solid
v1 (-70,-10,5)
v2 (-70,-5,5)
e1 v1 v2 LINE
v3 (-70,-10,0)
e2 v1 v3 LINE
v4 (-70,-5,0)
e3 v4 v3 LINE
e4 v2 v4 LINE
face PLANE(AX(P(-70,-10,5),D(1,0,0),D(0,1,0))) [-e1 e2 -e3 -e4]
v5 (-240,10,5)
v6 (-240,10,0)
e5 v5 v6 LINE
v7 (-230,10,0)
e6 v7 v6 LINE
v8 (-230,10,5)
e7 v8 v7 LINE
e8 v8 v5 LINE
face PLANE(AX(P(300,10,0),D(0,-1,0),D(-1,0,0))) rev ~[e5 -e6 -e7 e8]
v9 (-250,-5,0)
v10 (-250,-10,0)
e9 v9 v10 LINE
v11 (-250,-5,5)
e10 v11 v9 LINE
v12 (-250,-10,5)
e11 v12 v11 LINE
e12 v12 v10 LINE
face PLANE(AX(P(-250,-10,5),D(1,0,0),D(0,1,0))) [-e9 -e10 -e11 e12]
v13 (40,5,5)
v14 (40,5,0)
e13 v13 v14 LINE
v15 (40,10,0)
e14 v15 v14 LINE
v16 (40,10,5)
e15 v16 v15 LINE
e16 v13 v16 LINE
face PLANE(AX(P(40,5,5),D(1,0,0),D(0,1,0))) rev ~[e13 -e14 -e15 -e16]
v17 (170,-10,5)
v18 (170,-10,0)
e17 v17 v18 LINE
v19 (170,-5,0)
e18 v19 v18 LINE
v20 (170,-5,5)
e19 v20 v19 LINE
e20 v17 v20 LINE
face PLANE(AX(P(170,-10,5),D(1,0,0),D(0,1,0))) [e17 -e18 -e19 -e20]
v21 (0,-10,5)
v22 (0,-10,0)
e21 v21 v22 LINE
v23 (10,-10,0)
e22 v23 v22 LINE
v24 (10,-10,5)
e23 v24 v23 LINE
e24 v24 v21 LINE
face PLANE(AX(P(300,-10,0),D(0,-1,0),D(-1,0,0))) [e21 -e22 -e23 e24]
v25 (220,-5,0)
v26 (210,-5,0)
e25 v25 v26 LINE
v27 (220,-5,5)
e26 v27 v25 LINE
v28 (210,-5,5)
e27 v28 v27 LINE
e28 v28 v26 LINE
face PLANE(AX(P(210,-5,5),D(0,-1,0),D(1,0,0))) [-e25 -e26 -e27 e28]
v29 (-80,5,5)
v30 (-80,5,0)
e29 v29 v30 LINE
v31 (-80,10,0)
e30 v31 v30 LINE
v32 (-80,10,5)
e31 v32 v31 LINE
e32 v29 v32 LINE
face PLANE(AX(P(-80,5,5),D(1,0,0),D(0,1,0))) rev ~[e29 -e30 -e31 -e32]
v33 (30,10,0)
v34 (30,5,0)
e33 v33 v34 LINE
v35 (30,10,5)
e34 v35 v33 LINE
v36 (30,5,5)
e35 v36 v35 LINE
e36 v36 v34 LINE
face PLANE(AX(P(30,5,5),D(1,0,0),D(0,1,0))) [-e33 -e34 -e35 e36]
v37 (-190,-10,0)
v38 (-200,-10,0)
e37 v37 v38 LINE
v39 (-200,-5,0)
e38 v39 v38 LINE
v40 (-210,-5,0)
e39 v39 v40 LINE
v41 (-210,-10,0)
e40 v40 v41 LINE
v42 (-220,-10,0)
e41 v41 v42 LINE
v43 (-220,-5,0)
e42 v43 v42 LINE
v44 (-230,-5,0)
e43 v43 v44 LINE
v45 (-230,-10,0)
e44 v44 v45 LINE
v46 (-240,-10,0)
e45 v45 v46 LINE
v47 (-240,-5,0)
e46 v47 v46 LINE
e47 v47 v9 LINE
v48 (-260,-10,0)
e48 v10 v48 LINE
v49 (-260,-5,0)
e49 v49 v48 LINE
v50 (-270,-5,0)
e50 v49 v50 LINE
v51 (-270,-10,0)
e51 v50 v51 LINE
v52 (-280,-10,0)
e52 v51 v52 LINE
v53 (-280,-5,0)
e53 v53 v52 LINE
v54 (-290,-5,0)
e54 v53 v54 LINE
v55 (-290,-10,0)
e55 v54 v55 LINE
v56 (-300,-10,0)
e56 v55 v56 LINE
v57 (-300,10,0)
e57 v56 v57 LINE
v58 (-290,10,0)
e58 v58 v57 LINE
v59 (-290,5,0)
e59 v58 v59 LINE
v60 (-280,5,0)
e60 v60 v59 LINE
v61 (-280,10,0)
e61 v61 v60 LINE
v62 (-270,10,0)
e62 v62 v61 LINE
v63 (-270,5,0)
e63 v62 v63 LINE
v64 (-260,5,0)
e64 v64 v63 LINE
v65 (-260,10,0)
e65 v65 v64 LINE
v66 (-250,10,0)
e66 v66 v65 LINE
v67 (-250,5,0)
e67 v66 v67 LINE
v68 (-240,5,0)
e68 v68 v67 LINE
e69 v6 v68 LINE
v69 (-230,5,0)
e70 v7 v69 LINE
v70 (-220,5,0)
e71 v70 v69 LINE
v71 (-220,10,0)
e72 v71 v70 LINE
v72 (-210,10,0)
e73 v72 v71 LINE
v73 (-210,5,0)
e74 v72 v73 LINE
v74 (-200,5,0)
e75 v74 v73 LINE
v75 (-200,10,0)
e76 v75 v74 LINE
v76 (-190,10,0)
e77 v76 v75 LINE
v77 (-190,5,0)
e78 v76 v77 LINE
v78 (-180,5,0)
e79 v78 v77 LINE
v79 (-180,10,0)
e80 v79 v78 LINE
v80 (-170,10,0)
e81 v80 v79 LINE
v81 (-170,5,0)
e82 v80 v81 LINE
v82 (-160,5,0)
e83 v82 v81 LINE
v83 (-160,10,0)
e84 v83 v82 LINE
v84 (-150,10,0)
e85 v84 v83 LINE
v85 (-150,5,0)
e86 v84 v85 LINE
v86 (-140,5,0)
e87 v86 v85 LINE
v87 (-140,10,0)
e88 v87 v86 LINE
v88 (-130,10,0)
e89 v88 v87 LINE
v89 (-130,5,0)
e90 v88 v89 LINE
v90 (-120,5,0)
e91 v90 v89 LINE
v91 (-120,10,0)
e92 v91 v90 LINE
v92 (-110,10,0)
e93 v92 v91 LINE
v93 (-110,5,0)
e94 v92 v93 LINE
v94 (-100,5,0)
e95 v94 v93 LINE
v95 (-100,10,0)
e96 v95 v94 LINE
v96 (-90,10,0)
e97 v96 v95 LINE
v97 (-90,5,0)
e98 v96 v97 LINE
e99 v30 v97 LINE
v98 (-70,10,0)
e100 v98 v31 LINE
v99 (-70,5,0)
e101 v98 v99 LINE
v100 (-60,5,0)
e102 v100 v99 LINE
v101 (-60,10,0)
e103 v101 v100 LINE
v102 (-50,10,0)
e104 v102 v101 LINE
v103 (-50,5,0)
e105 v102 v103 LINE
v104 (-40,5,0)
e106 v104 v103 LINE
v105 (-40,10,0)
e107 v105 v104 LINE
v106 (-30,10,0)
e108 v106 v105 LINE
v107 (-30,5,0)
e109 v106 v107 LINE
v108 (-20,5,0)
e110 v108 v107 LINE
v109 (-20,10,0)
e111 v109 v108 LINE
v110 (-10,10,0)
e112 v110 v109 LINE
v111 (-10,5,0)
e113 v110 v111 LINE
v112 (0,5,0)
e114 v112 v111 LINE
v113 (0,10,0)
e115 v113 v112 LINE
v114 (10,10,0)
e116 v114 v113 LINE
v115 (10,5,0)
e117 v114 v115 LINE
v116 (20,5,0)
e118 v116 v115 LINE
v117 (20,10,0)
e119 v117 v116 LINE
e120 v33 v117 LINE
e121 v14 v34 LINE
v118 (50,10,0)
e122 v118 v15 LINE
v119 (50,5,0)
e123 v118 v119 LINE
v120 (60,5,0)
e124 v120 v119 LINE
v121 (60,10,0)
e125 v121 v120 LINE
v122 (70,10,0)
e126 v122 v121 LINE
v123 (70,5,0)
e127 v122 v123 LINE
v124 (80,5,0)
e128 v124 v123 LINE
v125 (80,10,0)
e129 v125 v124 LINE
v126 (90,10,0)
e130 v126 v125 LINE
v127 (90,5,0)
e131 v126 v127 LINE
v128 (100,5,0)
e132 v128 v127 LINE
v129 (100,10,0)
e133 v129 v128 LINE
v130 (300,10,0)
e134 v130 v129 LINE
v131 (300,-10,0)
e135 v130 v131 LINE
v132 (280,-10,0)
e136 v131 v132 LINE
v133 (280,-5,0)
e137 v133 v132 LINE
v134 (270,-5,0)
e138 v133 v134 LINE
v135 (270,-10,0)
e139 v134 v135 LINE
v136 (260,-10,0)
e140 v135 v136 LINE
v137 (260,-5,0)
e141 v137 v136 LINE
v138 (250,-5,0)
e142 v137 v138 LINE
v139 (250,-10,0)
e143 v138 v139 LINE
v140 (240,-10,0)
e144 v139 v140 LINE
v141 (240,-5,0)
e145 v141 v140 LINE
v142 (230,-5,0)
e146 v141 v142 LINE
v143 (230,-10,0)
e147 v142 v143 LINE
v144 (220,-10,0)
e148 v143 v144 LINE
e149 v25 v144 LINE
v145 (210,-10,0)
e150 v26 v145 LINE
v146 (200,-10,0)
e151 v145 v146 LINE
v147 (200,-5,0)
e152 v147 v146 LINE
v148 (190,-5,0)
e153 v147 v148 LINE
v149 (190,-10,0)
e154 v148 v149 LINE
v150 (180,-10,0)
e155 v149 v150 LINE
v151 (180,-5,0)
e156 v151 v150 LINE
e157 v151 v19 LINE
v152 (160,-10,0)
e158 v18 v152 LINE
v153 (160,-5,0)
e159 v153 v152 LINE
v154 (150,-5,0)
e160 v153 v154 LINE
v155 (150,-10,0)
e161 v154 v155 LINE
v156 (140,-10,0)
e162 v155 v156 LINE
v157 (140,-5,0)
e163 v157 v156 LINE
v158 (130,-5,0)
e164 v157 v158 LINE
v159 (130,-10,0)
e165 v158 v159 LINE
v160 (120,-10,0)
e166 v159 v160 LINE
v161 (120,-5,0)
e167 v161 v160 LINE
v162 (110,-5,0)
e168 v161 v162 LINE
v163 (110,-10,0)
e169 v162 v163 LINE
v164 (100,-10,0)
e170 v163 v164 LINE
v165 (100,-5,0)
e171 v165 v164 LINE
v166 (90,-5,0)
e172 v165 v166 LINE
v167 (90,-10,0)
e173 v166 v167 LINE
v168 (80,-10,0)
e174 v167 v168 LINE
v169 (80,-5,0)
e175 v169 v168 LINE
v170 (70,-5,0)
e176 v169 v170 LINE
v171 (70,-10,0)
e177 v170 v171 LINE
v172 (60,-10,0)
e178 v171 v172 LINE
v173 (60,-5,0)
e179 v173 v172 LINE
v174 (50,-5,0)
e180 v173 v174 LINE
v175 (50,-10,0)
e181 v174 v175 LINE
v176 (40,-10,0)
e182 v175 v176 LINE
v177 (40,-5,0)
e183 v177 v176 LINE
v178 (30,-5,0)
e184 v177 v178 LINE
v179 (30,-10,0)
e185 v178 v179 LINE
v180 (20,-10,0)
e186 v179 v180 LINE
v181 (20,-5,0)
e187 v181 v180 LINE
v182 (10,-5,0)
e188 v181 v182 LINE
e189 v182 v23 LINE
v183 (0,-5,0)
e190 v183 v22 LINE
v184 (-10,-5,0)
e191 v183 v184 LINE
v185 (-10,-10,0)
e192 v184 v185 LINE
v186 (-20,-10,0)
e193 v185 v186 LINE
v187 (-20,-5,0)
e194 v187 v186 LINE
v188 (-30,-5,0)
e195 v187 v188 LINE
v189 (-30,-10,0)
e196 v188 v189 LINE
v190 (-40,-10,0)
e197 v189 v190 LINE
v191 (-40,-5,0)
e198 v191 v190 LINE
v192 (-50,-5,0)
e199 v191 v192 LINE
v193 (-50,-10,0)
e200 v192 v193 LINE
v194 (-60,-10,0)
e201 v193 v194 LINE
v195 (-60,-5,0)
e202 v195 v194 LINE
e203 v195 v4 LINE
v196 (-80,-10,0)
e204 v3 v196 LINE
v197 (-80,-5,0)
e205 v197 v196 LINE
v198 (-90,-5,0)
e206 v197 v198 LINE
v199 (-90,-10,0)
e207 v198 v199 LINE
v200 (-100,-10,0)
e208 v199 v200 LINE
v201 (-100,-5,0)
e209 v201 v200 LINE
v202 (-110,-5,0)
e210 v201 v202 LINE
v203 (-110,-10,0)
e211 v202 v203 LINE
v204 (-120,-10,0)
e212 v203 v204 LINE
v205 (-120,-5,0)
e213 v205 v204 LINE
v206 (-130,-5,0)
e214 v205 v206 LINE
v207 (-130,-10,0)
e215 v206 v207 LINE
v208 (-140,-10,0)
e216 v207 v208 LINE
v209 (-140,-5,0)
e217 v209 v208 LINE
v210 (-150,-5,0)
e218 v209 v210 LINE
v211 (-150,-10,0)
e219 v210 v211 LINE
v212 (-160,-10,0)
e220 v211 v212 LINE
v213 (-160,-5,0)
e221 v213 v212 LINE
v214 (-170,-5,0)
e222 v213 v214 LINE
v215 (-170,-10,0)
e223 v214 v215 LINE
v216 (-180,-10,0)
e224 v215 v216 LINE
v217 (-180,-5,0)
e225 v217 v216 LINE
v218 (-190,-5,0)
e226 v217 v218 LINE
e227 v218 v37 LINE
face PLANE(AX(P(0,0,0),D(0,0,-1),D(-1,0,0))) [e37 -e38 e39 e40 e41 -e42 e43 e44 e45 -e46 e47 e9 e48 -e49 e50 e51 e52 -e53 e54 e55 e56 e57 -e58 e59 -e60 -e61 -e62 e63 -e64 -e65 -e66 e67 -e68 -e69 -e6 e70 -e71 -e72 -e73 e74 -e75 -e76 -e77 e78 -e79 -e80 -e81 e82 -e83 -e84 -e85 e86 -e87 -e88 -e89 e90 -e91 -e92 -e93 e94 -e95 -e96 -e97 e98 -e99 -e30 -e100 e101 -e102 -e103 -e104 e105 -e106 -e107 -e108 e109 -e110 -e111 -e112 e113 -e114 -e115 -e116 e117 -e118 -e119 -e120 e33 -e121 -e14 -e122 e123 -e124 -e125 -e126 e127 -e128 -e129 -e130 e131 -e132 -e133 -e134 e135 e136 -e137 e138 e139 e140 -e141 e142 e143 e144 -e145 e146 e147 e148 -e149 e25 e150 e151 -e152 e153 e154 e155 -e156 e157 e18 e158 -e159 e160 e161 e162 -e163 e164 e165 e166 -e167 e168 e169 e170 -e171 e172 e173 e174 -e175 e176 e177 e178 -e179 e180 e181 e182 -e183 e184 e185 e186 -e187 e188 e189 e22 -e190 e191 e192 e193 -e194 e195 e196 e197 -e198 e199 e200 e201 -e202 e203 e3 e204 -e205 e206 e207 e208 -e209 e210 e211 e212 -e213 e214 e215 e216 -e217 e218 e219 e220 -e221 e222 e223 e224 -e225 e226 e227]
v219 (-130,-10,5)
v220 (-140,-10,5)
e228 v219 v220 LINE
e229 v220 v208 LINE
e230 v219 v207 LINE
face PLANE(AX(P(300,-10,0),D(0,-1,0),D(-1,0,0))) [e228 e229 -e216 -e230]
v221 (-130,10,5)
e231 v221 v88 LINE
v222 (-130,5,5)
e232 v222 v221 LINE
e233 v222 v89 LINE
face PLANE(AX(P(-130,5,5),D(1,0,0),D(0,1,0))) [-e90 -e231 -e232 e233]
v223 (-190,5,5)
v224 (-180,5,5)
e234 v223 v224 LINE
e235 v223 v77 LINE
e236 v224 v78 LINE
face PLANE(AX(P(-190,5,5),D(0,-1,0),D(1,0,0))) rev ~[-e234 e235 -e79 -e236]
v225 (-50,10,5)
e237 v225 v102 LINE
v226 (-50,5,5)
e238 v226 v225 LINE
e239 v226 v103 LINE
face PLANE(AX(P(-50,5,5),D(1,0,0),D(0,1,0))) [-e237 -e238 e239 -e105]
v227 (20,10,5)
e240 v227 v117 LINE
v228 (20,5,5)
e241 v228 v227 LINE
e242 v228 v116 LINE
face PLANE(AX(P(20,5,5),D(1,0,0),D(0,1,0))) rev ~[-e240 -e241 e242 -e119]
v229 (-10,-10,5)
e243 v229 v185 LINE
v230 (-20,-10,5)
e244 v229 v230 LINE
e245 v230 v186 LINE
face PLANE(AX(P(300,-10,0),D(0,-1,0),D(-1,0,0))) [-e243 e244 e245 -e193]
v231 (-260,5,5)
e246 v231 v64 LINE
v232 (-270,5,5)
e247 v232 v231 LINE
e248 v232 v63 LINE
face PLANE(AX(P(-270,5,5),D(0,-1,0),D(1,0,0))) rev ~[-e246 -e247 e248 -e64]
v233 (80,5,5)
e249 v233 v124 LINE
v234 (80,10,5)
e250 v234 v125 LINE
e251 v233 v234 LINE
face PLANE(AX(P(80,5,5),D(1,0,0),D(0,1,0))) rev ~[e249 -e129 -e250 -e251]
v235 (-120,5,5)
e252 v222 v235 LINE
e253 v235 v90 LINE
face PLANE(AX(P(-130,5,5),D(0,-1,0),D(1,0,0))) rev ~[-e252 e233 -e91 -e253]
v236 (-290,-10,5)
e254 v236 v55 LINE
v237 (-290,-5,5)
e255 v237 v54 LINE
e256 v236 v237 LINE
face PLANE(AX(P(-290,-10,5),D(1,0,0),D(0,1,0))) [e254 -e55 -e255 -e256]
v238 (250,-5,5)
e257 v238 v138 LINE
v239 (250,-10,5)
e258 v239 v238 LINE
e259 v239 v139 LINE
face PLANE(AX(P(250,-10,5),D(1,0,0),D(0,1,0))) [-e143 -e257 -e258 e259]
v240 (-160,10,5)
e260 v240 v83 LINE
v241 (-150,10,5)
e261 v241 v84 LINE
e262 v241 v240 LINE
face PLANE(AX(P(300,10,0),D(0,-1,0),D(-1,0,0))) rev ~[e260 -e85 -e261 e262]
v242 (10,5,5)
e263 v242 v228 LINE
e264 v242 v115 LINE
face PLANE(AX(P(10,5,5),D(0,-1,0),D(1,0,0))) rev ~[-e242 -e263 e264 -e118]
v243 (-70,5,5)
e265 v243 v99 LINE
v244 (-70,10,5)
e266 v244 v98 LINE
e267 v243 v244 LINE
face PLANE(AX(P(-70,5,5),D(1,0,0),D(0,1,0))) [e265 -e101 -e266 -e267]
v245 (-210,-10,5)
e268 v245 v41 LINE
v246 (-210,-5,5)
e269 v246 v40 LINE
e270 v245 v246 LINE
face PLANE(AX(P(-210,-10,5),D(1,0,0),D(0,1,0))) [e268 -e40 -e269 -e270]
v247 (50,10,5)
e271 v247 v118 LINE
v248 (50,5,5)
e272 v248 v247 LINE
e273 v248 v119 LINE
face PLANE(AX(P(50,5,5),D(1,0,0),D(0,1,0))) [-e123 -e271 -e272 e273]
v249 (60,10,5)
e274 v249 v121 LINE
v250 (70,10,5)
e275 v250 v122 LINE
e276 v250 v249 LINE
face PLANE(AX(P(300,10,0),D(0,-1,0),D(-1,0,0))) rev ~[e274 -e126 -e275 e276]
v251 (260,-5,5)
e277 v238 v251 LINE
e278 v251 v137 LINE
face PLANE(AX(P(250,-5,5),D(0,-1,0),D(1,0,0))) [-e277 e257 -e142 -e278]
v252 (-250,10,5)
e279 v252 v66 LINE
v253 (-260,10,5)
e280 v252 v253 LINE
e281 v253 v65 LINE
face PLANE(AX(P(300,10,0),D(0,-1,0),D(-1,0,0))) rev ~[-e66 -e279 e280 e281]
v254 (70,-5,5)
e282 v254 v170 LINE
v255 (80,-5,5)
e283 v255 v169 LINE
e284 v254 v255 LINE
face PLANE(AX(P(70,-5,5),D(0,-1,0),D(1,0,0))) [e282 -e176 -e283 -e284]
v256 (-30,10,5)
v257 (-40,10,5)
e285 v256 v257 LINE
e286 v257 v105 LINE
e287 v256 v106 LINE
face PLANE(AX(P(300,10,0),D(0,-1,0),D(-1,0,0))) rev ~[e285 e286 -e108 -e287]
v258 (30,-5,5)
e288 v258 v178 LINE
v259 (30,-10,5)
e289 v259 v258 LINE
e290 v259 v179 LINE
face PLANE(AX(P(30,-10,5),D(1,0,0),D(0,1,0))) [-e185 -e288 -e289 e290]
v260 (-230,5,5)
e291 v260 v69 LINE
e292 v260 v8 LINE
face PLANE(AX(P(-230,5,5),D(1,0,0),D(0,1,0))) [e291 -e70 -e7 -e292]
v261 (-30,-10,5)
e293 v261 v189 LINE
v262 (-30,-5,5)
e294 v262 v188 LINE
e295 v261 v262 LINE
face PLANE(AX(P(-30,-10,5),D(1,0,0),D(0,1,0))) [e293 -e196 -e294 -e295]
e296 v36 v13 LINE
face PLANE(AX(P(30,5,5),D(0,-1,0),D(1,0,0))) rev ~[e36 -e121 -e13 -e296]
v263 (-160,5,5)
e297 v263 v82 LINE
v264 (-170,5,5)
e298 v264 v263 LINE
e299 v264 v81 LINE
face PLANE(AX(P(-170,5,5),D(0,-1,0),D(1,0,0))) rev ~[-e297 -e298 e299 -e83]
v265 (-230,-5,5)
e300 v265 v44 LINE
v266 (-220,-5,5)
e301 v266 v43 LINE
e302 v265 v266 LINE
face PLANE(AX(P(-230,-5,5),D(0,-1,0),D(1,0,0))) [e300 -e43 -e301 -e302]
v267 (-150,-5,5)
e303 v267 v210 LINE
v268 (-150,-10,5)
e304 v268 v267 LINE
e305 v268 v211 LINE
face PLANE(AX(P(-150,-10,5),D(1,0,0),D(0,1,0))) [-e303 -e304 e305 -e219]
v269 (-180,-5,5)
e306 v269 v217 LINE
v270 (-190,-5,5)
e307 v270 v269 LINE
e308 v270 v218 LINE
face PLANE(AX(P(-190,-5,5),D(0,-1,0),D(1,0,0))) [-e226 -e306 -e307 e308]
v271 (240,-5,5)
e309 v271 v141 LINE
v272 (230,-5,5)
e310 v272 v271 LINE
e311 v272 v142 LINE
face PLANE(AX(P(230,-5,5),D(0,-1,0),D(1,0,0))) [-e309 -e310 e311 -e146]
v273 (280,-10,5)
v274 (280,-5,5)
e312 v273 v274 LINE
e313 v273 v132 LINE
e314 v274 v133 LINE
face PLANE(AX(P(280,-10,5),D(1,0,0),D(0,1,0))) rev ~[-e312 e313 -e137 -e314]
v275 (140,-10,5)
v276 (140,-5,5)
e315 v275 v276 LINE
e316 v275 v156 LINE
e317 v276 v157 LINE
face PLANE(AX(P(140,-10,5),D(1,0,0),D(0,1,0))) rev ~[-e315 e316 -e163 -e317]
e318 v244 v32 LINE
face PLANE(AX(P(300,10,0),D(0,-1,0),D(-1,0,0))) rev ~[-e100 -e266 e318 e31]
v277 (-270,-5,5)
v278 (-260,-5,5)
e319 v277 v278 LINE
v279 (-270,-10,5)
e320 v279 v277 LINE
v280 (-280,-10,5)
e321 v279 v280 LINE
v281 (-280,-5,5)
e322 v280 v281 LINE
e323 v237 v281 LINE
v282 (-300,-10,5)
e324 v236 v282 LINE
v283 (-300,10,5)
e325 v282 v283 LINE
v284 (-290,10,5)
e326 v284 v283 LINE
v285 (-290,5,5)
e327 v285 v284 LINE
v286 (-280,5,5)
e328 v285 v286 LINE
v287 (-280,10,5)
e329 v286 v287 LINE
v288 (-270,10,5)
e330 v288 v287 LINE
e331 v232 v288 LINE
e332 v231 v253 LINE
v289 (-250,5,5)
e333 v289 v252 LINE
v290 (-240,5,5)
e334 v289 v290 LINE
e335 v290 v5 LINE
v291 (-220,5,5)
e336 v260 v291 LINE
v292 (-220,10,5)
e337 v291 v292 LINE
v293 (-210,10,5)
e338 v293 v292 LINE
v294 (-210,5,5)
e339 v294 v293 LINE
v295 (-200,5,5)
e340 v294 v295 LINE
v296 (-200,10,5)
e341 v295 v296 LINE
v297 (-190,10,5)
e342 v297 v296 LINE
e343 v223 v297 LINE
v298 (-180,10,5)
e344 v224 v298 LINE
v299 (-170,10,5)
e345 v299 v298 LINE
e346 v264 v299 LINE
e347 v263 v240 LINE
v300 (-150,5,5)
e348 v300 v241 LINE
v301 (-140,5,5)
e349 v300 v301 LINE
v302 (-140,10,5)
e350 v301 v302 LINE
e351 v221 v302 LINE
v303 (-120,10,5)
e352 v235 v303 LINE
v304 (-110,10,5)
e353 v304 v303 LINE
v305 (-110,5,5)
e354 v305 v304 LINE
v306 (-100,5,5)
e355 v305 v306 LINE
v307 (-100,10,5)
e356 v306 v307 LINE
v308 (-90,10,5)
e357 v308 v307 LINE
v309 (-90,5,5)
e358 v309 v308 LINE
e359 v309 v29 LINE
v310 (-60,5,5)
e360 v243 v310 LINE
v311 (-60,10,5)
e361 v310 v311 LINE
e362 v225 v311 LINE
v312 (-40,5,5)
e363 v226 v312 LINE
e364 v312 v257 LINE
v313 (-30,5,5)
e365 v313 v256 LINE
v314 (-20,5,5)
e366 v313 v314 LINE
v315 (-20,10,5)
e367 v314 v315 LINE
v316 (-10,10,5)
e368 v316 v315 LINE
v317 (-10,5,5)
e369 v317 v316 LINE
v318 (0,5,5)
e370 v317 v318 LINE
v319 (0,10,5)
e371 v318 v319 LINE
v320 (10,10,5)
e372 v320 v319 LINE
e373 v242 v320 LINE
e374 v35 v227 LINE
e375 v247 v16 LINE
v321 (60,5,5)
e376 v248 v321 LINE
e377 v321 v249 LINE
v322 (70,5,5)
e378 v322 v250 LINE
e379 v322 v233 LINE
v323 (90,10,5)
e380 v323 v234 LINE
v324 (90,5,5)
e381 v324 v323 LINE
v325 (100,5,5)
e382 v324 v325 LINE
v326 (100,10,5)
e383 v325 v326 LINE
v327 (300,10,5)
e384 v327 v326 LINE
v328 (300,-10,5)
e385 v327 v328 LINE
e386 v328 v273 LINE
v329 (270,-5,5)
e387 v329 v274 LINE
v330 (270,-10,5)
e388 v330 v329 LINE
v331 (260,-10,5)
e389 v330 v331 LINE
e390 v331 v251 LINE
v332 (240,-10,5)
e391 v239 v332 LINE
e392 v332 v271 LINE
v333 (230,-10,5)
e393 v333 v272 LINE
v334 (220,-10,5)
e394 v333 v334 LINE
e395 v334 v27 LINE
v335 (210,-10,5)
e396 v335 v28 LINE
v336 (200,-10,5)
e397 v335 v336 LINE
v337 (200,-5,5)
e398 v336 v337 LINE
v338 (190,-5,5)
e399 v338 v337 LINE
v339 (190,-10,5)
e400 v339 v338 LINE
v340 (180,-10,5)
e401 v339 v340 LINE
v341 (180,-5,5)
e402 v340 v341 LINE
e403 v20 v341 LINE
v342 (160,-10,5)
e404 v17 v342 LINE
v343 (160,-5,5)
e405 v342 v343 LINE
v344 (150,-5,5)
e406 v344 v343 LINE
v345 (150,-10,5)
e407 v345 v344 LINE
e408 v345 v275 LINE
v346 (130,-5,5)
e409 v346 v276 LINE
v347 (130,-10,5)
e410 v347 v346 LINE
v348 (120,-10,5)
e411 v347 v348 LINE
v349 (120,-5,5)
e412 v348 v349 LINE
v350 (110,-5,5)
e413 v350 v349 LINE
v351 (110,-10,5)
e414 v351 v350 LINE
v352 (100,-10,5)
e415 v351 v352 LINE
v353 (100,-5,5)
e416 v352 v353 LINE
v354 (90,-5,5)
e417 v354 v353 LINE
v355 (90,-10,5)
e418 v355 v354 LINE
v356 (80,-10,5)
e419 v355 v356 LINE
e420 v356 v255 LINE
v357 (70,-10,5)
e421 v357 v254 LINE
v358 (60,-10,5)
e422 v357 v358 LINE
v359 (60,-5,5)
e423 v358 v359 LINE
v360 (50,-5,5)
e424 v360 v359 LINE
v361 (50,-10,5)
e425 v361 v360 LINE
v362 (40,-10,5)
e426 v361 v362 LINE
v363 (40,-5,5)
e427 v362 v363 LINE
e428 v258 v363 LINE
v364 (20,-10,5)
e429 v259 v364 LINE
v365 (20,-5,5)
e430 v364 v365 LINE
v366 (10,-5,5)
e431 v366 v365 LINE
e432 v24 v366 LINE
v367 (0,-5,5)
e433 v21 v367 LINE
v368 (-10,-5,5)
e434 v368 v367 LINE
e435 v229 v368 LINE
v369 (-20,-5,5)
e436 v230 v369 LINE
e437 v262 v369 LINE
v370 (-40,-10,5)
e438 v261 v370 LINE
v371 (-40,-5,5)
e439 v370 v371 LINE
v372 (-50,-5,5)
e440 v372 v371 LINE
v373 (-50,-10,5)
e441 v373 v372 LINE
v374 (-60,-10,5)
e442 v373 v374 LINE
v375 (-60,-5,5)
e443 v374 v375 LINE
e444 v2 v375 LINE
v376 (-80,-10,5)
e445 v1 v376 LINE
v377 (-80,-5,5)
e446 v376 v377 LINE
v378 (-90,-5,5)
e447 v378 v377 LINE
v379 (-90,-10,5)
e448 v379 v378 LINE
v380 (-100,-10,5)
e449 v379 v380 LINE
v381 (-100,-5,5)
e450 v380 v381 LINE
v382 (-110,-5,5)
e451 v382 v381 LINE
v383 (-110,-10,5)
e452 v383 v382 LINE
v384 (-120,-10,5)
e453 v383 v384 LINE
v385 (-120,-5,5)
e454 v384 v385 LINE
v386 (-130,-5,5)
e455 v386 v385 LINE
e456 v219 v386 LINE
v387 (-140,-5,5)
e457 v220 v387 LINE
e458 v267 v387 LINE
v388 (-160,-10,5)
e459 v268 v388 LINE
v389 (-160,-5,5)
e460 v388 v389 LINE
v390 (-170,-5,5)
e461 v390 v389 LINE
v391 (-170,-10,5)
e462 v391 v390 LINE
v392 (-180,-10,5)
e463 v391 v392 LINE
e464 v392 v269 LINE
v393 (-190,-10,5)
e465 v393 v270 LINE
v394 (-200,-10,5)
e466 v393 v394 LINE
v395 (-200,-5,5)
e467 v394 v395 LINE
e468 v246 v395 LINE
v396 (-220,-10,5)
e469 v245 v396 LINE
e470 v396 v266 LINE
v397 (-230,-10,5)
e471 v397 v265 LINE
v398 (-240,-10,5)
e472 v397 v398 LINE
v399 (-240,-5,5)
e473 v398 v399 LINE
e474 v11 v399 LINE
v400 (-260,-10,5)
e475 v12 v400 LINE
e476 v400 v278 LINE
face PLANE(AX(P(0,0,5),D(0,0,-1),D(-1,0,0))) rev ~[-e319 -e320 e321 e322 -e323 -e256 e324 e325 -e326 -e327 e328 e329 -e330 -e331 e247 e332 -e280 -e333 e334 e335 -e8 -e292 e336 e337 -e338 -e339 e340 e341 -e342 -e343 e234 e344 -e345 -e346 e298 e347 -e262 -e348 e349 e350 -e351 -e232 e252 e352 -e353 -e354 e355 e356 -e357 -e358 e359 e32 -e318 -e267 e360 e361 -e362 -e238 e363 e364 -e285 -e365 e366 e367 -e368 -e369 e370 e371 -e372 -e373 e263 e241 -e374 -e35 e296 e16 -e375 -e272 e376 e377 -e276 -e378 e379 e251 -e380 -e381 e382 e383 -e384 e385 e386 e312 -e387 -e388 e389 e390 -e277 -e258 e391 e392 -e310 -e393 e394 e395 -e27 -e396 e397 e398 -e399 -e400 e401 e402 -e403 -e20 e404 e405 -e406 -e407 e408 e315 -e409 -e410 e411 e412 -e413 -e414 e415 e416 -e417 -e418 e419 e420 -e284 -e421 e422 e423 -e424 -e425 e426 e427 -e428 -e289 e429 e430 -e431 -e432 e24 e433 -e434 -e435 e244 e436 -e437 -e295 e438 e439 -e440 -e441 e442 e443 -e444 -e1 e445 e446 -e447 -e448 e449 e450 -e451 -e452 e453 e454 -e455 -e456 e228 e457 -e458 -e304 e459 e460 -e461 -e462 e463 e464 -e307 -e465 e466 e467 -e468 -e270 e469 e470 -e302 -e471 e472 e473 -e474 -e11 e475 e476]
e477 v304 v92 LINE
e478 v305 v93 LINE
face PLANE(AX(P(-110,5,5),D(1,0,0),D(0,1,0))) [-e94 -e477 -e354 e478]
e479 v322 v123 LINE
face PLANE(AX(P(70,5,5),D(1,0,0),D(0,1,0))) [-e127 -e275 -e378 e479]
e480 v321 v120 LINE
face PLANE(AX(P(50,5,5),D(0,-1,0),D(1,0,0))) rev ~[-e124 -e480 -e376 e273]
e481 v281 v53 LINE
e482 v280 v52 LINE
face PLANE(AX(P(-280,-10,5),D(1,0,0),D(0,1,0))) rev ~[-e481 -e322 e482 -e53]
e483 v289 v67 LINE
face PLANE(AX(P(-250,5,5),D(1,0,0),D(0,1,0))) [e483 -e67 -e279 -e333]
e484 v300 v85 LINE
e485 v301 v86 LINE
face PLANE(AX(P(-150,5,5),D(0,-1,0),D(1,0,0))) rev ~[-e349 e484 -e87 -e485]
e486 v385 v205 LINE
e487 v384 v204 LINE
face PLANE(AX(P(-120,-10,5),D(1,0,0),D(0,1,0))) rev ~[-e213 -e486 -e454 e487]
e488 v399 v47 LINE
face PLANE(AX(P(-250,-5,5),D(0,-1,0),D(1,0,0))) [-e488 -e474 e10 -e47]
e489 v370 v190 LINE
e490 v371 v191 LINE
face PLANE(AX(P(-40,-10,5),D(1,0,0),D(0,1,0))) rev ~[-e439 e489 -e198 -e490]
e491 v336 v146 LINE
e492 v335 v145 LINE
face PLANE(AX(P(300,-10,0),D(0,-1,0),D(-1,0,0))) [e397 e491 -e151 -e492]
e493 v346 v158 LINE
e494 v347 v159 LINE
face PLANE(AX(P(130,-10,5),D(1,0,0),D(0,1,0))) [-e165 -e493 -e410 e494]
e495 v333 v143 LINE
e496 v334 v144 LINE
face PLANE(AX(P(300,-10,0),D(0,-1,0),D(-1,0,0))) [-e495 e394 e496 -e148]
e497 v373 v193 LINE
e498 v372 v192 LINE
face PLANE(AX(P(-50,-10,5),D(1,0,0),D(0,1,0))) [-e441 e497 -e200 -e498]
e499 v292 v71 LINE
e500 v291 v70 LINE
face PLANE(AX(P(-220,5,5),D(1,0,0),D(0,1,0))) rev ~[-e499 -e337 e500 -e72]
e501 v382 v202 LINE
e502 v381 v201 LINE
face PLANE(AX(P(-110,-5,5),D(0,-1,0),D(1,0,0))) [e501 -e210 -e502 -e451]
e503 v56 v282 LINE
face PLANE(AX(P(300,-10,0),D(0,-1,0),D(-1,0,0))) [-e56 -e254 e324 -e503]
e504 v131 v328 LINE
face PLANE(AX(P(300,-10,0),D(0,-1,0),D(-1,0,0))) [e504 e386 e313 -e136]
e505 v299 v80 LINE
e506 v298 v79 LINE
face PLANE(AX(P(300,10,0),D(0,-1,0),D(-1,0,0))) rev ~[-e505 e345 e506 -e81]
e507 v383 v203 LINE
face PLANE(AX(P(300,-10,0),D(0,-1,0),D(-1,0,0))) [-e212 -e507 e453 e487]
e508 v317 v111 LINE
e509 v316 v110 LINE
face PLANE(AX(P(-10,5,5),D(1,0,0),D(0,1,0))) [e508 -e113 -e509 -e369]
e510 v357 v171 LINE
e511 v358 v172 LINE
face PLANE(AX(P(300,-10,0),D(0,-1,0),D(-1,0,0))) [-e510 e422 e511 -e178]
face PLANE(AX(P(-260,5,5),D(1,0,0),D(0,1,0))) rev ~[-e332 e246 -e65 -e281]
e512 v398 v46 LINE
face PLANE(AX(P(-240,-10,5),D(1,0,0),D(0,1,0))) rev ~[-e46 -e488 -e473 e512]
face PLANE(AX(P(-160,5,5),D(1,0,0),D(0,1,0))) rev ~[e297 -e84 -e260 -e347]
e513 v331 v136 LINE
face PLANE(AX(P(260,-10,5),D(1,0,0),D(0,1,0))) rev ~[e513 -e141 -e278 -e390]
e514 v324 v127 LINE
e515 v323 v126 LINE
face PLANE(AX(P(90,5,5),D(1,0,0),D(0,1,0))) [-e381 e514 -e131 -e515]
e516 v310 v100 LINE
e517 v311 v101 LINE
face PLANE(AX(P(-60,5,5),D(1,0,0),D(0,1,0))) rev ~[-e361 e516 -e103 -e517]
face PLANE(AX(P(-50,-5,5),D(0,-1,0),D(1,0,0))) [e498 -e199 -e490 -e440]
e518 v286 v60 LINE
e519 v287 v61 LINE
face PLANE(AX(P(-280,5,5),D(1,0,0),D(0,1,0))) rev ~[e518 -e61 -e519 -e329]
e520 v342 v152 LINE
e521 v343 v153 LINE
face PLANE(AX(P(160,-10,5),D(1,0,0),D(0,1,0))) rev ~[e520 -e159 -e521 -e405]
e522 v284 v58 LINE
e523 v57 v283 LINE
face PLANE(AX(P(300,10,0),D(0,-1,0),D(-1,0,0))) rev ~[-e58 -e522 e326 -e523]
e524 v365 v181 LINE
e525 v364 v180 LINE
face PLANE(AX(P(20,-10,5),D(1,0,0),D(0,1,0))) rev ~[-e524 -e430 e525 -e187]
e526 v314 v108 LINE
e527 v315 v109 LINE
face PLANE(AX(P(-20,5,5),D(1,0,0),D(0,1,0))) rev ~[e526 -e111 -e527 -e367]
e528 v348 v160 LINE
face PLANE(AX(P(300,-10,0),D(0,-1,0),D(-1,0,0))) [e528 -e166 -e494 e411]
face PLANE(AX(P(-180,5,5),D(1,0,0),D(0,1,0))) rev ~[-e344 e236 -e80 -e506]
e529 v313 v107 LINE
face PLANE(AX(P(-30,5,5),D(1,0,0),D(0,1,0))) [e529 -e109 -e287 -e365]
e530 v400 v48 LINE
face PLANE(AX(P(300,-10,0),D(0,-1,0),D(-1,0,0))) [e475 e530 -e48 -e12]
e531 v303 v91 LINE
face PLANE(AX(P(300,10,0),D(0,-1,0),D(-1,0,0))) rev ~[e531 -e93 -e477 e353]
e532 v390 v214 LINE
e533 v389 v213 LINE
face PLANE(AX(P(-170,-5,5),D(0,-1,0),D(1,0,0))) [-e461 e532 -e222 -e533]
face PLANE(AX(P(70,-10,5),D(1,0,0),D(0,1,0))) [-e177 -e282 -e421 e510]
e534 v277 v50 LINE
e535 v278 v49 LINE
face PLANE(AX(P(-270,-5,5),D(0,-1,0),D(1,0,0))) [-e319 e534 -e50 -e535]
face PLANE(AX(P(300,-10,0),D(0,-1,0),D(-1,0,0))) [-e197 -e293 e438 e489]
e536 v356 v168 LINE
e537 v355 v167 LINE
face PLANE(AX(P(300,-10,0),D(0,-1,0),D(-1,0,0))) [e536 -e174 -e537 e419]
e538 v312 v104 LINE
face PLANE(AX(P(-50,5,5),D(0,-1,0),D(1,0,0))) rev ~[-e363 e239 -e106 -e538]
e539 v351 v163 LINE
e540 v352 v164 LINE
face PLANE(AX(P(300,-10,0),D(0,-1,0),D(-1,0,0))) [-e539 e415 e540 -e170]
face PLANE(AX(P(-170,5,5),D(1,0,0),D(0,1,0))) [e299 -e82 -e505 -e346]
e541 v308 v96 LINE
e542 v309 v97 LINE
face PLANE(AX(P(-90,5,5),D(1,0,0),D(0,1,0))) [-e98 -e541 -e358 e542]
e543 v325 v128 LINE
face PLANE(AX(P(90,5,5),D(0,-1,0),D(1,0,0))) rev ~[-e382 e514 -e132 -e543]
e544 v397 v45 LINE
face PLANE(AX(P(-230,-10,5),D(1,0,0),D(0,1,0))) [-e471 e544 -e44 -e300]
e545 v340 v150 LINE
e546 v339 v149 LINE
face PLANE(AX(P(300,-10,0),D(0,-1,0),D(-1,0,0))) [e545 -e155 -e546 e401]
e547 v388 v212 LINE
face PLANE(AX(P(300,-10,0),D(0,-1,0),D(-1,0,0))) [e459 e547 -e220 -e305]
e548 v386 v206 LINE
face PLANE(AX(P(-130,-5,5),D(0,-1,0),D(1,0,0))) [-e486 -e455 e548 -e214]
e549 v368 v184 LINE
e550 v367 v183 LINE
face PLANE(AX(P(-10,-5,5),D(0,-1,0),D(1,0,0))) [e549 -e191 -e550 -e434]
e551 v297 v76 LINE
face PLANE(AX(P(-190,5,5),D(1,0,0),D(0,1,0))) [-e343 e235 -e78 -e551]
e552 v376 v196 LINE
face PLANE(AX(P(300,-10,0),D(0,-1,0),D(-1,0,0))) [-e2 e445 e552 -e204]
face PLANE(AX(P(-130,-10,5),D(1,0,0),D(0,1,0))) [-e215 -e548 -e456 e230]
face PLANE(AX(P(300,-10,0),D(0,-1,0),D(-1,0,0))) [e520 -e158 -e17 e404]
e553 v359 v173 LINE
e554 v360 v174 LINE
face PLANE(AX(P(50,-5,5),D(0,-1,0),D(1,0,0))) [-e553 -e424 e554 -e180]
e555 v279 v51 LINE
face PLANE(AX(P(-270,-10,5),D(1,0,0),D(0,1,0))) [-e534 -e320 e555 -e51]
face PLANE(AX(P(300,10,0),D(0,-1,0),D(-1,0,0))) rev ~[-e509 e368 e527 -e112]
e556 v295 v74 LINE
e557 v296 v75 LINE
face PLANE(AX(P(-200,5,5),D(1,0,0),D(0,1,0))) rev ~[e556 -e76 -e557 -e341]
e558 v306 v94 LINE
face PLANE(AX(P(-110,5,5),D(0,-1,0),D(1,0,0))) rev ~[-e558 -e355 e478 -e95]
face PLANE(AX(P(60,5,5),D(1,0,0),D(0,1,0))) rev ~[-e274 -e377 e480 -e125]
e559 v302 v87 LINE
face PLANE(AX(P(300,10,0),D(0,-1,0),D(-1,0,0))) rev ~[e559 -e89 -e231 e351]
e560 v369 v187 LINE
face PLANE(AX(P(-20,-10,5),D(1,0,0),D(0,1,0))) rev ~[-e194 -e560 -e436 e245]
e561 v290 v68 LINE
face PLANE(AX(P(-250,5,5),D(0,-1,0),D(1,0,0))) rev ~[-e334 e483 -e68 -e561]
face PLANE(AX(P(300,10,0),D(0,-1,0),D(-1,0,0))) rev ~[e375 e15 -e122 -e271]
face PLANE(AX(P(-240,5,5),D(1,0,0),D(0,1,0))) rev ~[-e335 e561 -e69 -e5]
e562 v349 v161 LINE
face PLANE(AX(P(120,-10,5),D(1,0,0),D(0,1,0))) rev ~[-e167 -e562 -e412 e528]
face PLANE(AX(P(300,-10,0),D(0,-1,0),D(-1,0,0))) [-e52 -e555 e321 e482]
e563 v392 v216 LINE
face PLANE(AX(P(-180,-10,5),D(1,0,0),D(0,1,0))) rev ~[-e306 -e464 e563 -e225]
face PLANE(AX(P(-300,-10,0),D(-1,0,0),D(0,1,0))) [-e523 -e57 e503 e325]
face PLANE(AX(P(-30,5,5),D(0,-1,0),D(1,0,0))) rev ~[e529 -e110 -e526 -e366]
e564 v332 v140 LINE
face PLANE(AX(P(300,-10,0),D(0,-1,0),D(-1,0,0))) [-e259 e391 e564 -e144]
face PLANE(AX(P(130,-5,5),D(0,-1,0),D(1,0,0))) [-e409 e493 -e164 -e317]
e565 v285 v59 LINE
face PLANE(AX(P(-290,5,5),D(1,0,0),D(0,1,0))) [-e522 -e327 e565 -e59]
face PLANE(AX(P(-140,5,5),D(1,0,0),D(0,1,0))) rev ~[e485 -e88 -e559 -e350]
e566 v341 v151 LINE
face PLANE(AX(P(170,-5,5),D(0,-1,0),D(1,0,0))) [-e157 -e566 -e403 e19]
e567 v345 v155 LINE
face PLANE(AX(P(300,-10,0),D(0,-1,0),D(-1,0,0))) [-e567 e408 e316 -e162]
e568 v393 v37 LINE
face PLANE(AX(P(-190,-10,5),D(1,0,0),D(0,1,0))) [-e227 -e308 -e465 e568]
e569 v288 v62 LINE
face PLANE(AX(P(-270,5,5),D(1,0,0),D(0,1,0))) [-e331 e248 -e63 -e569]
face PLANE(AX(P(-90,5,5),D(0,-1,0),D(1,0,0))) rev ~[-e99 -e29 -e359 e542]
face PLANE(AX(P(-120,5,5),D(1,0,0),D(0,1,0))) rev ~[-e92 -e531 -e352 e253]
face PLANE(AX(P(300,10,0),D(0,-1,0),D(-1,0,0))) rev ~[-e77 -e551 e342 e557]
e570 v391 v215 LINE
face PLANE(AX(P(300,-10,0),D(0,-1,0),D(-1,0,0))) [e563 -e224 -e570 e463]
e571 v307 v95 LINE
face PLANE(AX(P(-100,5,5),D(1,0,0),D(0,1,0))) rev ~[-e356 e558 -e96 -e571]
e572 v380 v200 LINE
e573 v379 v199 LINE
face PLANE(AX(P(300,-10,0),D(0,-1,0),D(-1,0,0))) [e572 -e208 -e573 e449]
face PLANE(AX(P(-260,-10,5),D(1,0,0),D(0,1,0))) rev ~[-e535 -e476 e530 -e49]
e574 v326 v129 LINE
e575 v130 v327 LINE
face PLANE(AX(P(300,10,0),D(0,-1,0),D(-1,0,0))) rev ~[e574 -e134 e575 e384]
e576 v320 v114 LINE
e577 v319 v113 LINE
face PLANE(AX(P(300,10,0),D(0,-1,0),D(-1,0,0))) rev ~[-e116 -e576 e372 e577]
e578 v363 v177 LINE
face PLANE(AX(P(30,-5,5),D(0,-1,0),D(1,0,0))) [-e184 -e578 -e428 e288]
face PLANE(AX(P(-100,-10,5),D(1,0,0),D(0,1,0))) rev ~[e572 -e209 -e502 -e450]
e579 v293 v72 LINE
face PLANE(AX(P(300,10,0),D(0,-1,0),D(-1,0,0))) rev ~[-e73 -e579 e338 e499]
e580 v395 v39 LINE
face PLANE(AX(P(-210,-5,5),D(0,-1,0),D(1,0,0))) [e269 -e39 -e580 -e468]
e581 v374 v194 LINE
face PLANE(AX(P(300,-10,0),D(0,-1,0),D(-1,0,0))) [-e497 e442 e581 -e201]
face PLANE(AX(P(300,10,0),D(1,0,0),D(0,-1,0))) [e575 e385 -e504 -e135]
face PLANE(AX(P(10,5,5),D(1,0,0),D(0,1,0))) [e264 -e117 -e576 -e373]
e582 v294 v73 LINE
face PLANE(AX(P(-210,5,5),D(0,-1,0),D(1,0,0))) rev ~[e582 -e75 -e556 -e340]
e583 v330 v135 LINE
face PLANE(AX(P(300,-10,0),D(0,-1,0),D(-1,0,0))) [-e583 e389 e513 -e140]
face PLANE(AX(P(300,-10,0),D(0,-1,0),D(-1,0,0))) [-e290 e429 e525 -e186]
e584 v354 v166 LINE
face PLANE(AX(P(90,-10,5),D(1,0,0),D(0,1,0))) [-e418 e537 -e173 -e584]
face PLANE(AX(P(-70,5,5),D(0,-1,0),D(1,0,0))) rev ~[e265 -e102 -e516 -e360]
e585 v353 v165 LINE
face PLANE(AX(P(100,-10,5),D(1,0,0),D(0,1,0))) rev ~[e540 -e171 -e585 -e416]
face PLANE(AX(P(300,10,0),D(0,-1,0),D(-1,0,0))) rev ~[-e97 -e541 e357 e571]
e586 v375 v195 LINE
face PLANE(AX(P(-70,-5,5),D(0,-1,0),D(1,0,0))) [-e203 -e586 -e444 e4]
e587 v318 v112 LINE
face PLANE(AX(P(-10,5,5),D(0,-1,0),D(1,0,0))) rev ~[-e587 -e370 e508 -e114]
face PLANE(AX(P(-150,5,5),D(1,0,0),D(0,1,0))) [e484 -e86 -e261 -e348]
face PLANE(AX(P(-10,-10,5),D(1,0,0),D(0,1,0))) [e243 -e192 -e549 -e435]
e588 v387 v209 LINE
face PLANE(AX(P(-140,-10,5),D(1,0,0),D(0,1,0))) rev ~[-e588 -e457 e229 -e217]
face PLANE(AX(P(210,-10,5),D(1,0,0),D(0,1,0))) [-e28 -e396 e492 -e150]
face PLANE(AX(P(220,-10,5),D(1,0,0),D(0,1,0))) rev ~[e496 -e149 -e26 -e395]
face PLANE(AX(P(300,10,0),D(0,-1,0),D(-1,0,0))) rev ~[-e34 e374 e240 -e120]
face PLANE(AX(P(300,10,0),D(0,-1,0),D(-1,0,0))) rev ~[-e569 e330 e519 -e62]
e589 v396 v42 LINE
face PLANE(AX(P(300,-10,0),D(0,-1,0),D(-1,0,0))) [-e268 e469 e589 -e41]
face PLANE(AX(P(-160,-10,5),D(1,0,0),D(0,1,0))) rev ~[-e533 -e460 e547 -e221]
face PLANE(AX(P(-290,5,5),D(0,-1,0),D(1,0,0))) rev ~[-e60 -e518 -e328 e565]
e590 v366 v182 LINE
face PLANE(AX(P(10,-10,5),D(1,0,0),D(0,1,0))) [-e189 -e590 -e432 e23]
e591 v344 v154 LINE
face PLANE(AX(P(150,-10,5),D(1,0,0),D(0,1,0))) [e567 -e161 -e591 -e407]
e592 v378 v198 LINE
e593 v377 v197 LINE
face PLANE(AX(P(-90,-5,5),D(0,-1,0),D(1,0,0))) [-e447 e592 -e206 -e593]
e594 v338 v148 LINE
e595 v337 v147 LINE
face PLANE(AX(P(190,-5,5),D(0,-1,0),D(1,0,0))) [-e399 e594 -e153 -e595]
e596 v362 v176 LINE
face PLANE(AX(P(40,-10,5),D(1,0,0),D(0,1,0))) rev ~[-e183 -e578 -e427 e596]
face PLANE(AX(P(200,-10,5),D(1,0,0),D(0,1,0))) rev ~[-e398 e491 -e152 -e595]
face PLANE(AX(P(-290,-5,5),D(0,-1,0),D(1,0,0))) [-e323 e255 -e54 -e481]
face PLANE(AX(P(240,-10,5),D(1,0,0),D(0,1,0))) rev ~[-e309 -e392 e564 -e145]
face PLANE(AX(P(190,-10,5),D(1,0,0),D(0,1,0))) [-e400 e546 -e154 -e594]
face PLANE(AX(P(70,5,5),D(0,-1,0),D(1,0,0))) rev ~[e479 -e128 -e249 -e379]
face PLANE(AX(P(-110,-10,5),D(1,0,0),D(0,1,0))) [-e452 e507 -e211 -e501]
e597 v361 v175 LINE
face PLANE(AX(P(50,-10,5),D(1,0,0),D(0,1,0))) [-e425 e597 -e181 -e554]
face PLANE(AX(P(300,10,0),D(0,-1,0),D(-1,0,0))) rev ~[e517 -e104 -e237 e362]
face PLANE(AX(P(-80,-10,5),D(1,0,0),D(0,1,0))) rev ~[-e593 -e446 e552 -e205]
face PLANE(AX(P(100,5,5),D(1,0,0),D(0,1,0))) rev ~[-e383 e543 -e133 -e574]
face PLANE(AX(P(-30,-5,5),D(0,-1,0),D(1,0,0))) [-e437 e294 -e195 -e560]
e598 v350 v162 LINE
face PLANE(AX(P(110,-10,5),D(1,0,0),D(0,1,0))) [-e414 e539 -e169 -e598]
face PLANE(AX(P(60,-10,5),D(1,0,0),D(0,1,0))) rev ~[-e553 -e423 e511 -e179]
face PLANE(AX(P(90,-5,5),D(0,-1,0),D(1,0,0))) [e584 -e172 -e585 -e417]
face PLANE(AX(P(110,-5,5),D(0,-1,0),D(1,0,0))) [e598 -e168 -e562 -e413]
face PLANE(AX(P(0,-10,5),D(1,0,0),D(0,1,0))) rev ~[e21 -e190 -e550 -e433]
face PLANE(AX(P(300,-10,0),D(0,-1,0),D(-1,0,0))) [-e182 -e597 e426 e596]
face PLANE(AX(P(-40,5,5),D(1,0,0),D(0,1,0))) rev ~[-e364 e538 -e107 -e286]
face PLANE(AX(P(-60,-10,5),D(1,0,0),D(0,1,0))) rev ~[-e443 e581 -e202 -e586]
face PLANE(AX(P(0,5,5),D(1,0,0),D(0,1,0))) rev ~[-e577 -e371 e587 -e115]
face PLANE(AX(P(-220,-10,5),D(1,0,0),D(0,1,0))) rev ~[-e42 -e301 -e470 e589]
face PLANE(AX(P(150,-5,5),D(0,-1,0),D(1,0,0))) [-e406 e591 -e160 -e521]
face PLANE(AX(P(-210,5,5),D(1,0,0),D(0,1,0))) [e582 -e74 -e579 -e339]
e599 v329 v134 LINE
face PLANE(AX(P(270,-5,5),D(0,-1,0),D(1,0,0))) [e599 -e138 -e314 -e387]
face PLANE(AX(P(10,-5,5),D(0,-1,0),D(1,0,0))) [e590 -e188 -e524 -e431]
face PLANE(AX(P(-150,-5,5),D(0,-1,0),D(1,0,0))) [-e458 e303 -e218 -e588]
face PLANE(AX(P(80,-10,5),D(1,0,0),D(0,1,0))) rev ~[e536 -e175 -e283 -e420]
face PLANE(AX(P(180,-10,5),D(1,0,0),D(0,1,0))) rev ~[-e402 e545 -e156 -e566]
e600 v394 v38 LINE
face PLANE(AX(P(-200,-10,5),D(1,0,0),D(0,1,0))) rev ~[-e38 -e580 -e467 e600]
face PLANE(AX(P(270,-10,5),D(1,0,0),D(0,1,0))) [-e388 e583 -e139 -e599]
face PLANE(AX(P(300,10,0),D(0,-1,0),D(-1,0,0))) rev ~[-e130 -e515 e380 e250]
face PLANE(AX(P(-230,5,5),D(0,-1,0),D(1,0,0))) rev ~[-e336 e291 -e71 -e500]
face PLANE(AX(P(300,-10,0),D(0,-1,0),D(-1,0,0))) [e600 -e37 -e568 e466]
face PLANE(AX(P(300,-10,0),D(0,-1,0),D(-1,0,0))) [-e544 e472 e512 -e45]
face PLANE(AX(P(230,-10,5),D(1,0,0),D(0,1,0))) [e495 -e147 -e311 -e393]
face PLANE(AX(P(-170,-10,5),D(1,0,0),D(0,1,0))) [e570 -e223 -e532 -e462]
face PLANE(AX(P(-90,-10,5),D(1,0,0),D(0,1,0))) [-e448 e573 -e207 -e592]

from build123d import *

# Parameters (mm, degrees)
BOSS_EXTRU_1_DEPTH      = 5
ESQUISSE3_W             = 10
ESQUISSE3_H             = 5
ENL_V_MAT_EXTRU_1_DEPTH = 301.208261046


with BuildPart() as part:
    # Esquisse1 → Boss.-Extru.1 (new body)
    with BuildSketch(Plane.XY):
        Polygon((-300, 10), (200, 10), (300, 10), (300, -10), (-300, -10), align=None)
    extrude(amount=BOSS_EXTRU_1_DEPTH)

    # Esquisse3 → Enlèv. mat.-Extru.1 (cut, through all)
    with BuildSketch(Plane.XY.offset(5)):
        with Locations((-285, -7.5)):
            Rectangle(ESQUISSE3_W, ESQUISSE3_H)
        with Locations((-265, -7.5)):
            Rectangle(ESQUISSE3_W, ESQUISSE3_H)
        with Locations((-245, -7.5)):
            Rectangle(ESQUISSE3_W, ESQUISSE3_H)
        with Locations((-225, -7.5)):
            Rectangle(ESQUISSE3_W, ESQUISSE3_H)
        with Locations((-205, -7.5)):
            Rectangle(ESQUISSE3_W, ESQUISSE3_H)
        with Locations((-185, -7.5)):
            Rectangle(ESQUISSE3_W, ESQUISSE3_H)
        with Locations((-165, -7.5)):
            Rectangle(ESQUISSE3_W, ESQUISSE3_H)
        with Locations((-145, -7.5)):
            Rectangle(ESQUISSE3_W, ESQUISSE3_H)
        with Locations((-125, -7.5)):
            Rectangle(ESQUISSE3_W, ESQUISSE3_H)
        with Locations((-105, -7.5)):
            Rectangle(ESQUISSE3_W, ESQUISSE3_H)
        with Locations((-85, -7.5)):
            Rectangle(ESQUISSE3_W, ESQUISSE3_H)
        with Locations((-65, -7.5)):
            Rectangle(ESQUISSE3_W, ESQUISSE3_H)
        with Locations((-45, -7.5)):
            Rectangle(ESQUISSE3_W, ESQUISSE3_H)
        with Locations((-25, -7.5)):
            Rectangle(ESQUISSE3_W, ESQUISSE3_H)
        with Locations((-5, -7.5)):
            Rectangle(ESQUISSE3_W, ESQUISSE3_H)
        with Locations((15, -7.5)):
            Rectangle(ESQUISSE3_W, ESQUISSE3_H)
        with Locations((35, -7.5)):
            Rectangle(ESQUISSE3_W, ESQUISSE3_H)
        with Locations((55, -7.5)):
            Rectangle(ESQUISSE3_W, ESQUISSE3_H)
        with Locations((75, -7.5)):
            Rectangle(ESQUISSE3_W, ESQUISSE3_H)
        with Locations((95, -7.5)):
            Rectangle(ESQUISSE3_W, ESQUISSE3_H)
        with Locations((115, -7.5)):
            Rectangle(ESQUISSE3_W, ESQUISSE3_H)
        with Locations((135, -7.5)):
            Rectangle(ESQUISSE3_W, ESQUISSE3_H)
        with Locations((155, -7.5)):
            Rectangle(ESQUISSE3_W, ESQUISSE3_H)
        with Locations((175, -7.5)):
            Rectangle(ESQUISSE3_W, ESQUISSE3_H)
        with Locations((195, -7.5)):
            Rectangle(ESQUISSE3_W, ESQUISSE3_H)
        with Locations((215, -7.5)):
            Rectangle(ESQUISSE3_W, ESQUISSE3_H)
        with Locations((235, -7.5)):
            Rectangle(ESQUISSE3_W, ESQUISSE3_H)
        with Locations((255, -7.5)):
            Rectangle(ESQUISSE3_W, ESQUISSE3_H)
        with Locations((275, -7.5)):
            Rectangle(ESQUISSE3_W, ESQUISSE3_H)
        with Locations((-285, 7.5)):
            Rectangle(ESQUISSE3_W, ESQUISSE3_H)
        with Locations((-265, 7.5)):
            Rectangle(ESQUISSE3_W, ESQUISSE3_H)
        with Locations((-245, 7.5)):
            Rectangle(ESQUISSE3_W, ESQUISSE3_H)
        with Locations((-225, 7.5)):
            Rectangle(ESQUISSE3_W, ESQUISSE3_H)
        with Locations((-205, 7.5)):
            Rectangle(ESQUISSE3_W, ESQUISSE3_H)
        with Locations((-185, 7.5)):
            Rectangle(ESQUISSE3_W, ESQUISSE3_H)
        with Locations((-165, 7.5)):
            Rectangle(ESQUISSE3_W, ESQUISSE3_H)
        with Locations((-145, 7.5)):
            Rectangle(ESQUISSE3_W, ESQUISSE3_H)
        with Locations((-125, 7.5)):
            Rectangle(ESQUISSE3_W, ESQUISSE3_H)
        with Locations((-105, 7.5)):
            Rectangle(ESQUISSE3_W, ESQUISSE3_H)
        with Locations((-85, 7.5)):
            Rectangle(ESQUISSE3_W, ESQUISSE3_H)
        with Locations((-65, 7.5)):
            Rectangle(ESQUISSE3_W, ESQUISSE3_H)
        with Locations((-45, 7.5)):
            Rectangle(ESQUISSE3_W, ESQUISSE3_H)
        with Locations((-25, 7.5)):
            Rectangle(ESQUISSE3_W, ESQUISSE3_H)
        with Locations((-5, 7.5)):
            Rectangle(ESQUISSE3_W, ESQUISSE3_H)
        with Locations((15, 7.5)):
            Rectangle(ESQUISSE3_W, ESQUISSE3_H)
        with Locations((35, 7.5)):
            Rectangle(ESQUISSE3_W, ESQUISSE3_H)
        with Locations((55, 7.5)):
            Rectangle(ESQUISSE3_W, ESQUISSE3_H)
        with Locations((75, 7.5)):
            Rectangle(ESQUISSE3_W, ESQUISSE3_H)
        with Locations((95, 7.5)):
            Rectangle(ESQUISSE3_W, ESQUISSE3_H)
    extrude(amount=-ENL_V_MAT_EXTRU_1_DEPTH, mode=Mode.SUBTRACT)


solid = part.part
